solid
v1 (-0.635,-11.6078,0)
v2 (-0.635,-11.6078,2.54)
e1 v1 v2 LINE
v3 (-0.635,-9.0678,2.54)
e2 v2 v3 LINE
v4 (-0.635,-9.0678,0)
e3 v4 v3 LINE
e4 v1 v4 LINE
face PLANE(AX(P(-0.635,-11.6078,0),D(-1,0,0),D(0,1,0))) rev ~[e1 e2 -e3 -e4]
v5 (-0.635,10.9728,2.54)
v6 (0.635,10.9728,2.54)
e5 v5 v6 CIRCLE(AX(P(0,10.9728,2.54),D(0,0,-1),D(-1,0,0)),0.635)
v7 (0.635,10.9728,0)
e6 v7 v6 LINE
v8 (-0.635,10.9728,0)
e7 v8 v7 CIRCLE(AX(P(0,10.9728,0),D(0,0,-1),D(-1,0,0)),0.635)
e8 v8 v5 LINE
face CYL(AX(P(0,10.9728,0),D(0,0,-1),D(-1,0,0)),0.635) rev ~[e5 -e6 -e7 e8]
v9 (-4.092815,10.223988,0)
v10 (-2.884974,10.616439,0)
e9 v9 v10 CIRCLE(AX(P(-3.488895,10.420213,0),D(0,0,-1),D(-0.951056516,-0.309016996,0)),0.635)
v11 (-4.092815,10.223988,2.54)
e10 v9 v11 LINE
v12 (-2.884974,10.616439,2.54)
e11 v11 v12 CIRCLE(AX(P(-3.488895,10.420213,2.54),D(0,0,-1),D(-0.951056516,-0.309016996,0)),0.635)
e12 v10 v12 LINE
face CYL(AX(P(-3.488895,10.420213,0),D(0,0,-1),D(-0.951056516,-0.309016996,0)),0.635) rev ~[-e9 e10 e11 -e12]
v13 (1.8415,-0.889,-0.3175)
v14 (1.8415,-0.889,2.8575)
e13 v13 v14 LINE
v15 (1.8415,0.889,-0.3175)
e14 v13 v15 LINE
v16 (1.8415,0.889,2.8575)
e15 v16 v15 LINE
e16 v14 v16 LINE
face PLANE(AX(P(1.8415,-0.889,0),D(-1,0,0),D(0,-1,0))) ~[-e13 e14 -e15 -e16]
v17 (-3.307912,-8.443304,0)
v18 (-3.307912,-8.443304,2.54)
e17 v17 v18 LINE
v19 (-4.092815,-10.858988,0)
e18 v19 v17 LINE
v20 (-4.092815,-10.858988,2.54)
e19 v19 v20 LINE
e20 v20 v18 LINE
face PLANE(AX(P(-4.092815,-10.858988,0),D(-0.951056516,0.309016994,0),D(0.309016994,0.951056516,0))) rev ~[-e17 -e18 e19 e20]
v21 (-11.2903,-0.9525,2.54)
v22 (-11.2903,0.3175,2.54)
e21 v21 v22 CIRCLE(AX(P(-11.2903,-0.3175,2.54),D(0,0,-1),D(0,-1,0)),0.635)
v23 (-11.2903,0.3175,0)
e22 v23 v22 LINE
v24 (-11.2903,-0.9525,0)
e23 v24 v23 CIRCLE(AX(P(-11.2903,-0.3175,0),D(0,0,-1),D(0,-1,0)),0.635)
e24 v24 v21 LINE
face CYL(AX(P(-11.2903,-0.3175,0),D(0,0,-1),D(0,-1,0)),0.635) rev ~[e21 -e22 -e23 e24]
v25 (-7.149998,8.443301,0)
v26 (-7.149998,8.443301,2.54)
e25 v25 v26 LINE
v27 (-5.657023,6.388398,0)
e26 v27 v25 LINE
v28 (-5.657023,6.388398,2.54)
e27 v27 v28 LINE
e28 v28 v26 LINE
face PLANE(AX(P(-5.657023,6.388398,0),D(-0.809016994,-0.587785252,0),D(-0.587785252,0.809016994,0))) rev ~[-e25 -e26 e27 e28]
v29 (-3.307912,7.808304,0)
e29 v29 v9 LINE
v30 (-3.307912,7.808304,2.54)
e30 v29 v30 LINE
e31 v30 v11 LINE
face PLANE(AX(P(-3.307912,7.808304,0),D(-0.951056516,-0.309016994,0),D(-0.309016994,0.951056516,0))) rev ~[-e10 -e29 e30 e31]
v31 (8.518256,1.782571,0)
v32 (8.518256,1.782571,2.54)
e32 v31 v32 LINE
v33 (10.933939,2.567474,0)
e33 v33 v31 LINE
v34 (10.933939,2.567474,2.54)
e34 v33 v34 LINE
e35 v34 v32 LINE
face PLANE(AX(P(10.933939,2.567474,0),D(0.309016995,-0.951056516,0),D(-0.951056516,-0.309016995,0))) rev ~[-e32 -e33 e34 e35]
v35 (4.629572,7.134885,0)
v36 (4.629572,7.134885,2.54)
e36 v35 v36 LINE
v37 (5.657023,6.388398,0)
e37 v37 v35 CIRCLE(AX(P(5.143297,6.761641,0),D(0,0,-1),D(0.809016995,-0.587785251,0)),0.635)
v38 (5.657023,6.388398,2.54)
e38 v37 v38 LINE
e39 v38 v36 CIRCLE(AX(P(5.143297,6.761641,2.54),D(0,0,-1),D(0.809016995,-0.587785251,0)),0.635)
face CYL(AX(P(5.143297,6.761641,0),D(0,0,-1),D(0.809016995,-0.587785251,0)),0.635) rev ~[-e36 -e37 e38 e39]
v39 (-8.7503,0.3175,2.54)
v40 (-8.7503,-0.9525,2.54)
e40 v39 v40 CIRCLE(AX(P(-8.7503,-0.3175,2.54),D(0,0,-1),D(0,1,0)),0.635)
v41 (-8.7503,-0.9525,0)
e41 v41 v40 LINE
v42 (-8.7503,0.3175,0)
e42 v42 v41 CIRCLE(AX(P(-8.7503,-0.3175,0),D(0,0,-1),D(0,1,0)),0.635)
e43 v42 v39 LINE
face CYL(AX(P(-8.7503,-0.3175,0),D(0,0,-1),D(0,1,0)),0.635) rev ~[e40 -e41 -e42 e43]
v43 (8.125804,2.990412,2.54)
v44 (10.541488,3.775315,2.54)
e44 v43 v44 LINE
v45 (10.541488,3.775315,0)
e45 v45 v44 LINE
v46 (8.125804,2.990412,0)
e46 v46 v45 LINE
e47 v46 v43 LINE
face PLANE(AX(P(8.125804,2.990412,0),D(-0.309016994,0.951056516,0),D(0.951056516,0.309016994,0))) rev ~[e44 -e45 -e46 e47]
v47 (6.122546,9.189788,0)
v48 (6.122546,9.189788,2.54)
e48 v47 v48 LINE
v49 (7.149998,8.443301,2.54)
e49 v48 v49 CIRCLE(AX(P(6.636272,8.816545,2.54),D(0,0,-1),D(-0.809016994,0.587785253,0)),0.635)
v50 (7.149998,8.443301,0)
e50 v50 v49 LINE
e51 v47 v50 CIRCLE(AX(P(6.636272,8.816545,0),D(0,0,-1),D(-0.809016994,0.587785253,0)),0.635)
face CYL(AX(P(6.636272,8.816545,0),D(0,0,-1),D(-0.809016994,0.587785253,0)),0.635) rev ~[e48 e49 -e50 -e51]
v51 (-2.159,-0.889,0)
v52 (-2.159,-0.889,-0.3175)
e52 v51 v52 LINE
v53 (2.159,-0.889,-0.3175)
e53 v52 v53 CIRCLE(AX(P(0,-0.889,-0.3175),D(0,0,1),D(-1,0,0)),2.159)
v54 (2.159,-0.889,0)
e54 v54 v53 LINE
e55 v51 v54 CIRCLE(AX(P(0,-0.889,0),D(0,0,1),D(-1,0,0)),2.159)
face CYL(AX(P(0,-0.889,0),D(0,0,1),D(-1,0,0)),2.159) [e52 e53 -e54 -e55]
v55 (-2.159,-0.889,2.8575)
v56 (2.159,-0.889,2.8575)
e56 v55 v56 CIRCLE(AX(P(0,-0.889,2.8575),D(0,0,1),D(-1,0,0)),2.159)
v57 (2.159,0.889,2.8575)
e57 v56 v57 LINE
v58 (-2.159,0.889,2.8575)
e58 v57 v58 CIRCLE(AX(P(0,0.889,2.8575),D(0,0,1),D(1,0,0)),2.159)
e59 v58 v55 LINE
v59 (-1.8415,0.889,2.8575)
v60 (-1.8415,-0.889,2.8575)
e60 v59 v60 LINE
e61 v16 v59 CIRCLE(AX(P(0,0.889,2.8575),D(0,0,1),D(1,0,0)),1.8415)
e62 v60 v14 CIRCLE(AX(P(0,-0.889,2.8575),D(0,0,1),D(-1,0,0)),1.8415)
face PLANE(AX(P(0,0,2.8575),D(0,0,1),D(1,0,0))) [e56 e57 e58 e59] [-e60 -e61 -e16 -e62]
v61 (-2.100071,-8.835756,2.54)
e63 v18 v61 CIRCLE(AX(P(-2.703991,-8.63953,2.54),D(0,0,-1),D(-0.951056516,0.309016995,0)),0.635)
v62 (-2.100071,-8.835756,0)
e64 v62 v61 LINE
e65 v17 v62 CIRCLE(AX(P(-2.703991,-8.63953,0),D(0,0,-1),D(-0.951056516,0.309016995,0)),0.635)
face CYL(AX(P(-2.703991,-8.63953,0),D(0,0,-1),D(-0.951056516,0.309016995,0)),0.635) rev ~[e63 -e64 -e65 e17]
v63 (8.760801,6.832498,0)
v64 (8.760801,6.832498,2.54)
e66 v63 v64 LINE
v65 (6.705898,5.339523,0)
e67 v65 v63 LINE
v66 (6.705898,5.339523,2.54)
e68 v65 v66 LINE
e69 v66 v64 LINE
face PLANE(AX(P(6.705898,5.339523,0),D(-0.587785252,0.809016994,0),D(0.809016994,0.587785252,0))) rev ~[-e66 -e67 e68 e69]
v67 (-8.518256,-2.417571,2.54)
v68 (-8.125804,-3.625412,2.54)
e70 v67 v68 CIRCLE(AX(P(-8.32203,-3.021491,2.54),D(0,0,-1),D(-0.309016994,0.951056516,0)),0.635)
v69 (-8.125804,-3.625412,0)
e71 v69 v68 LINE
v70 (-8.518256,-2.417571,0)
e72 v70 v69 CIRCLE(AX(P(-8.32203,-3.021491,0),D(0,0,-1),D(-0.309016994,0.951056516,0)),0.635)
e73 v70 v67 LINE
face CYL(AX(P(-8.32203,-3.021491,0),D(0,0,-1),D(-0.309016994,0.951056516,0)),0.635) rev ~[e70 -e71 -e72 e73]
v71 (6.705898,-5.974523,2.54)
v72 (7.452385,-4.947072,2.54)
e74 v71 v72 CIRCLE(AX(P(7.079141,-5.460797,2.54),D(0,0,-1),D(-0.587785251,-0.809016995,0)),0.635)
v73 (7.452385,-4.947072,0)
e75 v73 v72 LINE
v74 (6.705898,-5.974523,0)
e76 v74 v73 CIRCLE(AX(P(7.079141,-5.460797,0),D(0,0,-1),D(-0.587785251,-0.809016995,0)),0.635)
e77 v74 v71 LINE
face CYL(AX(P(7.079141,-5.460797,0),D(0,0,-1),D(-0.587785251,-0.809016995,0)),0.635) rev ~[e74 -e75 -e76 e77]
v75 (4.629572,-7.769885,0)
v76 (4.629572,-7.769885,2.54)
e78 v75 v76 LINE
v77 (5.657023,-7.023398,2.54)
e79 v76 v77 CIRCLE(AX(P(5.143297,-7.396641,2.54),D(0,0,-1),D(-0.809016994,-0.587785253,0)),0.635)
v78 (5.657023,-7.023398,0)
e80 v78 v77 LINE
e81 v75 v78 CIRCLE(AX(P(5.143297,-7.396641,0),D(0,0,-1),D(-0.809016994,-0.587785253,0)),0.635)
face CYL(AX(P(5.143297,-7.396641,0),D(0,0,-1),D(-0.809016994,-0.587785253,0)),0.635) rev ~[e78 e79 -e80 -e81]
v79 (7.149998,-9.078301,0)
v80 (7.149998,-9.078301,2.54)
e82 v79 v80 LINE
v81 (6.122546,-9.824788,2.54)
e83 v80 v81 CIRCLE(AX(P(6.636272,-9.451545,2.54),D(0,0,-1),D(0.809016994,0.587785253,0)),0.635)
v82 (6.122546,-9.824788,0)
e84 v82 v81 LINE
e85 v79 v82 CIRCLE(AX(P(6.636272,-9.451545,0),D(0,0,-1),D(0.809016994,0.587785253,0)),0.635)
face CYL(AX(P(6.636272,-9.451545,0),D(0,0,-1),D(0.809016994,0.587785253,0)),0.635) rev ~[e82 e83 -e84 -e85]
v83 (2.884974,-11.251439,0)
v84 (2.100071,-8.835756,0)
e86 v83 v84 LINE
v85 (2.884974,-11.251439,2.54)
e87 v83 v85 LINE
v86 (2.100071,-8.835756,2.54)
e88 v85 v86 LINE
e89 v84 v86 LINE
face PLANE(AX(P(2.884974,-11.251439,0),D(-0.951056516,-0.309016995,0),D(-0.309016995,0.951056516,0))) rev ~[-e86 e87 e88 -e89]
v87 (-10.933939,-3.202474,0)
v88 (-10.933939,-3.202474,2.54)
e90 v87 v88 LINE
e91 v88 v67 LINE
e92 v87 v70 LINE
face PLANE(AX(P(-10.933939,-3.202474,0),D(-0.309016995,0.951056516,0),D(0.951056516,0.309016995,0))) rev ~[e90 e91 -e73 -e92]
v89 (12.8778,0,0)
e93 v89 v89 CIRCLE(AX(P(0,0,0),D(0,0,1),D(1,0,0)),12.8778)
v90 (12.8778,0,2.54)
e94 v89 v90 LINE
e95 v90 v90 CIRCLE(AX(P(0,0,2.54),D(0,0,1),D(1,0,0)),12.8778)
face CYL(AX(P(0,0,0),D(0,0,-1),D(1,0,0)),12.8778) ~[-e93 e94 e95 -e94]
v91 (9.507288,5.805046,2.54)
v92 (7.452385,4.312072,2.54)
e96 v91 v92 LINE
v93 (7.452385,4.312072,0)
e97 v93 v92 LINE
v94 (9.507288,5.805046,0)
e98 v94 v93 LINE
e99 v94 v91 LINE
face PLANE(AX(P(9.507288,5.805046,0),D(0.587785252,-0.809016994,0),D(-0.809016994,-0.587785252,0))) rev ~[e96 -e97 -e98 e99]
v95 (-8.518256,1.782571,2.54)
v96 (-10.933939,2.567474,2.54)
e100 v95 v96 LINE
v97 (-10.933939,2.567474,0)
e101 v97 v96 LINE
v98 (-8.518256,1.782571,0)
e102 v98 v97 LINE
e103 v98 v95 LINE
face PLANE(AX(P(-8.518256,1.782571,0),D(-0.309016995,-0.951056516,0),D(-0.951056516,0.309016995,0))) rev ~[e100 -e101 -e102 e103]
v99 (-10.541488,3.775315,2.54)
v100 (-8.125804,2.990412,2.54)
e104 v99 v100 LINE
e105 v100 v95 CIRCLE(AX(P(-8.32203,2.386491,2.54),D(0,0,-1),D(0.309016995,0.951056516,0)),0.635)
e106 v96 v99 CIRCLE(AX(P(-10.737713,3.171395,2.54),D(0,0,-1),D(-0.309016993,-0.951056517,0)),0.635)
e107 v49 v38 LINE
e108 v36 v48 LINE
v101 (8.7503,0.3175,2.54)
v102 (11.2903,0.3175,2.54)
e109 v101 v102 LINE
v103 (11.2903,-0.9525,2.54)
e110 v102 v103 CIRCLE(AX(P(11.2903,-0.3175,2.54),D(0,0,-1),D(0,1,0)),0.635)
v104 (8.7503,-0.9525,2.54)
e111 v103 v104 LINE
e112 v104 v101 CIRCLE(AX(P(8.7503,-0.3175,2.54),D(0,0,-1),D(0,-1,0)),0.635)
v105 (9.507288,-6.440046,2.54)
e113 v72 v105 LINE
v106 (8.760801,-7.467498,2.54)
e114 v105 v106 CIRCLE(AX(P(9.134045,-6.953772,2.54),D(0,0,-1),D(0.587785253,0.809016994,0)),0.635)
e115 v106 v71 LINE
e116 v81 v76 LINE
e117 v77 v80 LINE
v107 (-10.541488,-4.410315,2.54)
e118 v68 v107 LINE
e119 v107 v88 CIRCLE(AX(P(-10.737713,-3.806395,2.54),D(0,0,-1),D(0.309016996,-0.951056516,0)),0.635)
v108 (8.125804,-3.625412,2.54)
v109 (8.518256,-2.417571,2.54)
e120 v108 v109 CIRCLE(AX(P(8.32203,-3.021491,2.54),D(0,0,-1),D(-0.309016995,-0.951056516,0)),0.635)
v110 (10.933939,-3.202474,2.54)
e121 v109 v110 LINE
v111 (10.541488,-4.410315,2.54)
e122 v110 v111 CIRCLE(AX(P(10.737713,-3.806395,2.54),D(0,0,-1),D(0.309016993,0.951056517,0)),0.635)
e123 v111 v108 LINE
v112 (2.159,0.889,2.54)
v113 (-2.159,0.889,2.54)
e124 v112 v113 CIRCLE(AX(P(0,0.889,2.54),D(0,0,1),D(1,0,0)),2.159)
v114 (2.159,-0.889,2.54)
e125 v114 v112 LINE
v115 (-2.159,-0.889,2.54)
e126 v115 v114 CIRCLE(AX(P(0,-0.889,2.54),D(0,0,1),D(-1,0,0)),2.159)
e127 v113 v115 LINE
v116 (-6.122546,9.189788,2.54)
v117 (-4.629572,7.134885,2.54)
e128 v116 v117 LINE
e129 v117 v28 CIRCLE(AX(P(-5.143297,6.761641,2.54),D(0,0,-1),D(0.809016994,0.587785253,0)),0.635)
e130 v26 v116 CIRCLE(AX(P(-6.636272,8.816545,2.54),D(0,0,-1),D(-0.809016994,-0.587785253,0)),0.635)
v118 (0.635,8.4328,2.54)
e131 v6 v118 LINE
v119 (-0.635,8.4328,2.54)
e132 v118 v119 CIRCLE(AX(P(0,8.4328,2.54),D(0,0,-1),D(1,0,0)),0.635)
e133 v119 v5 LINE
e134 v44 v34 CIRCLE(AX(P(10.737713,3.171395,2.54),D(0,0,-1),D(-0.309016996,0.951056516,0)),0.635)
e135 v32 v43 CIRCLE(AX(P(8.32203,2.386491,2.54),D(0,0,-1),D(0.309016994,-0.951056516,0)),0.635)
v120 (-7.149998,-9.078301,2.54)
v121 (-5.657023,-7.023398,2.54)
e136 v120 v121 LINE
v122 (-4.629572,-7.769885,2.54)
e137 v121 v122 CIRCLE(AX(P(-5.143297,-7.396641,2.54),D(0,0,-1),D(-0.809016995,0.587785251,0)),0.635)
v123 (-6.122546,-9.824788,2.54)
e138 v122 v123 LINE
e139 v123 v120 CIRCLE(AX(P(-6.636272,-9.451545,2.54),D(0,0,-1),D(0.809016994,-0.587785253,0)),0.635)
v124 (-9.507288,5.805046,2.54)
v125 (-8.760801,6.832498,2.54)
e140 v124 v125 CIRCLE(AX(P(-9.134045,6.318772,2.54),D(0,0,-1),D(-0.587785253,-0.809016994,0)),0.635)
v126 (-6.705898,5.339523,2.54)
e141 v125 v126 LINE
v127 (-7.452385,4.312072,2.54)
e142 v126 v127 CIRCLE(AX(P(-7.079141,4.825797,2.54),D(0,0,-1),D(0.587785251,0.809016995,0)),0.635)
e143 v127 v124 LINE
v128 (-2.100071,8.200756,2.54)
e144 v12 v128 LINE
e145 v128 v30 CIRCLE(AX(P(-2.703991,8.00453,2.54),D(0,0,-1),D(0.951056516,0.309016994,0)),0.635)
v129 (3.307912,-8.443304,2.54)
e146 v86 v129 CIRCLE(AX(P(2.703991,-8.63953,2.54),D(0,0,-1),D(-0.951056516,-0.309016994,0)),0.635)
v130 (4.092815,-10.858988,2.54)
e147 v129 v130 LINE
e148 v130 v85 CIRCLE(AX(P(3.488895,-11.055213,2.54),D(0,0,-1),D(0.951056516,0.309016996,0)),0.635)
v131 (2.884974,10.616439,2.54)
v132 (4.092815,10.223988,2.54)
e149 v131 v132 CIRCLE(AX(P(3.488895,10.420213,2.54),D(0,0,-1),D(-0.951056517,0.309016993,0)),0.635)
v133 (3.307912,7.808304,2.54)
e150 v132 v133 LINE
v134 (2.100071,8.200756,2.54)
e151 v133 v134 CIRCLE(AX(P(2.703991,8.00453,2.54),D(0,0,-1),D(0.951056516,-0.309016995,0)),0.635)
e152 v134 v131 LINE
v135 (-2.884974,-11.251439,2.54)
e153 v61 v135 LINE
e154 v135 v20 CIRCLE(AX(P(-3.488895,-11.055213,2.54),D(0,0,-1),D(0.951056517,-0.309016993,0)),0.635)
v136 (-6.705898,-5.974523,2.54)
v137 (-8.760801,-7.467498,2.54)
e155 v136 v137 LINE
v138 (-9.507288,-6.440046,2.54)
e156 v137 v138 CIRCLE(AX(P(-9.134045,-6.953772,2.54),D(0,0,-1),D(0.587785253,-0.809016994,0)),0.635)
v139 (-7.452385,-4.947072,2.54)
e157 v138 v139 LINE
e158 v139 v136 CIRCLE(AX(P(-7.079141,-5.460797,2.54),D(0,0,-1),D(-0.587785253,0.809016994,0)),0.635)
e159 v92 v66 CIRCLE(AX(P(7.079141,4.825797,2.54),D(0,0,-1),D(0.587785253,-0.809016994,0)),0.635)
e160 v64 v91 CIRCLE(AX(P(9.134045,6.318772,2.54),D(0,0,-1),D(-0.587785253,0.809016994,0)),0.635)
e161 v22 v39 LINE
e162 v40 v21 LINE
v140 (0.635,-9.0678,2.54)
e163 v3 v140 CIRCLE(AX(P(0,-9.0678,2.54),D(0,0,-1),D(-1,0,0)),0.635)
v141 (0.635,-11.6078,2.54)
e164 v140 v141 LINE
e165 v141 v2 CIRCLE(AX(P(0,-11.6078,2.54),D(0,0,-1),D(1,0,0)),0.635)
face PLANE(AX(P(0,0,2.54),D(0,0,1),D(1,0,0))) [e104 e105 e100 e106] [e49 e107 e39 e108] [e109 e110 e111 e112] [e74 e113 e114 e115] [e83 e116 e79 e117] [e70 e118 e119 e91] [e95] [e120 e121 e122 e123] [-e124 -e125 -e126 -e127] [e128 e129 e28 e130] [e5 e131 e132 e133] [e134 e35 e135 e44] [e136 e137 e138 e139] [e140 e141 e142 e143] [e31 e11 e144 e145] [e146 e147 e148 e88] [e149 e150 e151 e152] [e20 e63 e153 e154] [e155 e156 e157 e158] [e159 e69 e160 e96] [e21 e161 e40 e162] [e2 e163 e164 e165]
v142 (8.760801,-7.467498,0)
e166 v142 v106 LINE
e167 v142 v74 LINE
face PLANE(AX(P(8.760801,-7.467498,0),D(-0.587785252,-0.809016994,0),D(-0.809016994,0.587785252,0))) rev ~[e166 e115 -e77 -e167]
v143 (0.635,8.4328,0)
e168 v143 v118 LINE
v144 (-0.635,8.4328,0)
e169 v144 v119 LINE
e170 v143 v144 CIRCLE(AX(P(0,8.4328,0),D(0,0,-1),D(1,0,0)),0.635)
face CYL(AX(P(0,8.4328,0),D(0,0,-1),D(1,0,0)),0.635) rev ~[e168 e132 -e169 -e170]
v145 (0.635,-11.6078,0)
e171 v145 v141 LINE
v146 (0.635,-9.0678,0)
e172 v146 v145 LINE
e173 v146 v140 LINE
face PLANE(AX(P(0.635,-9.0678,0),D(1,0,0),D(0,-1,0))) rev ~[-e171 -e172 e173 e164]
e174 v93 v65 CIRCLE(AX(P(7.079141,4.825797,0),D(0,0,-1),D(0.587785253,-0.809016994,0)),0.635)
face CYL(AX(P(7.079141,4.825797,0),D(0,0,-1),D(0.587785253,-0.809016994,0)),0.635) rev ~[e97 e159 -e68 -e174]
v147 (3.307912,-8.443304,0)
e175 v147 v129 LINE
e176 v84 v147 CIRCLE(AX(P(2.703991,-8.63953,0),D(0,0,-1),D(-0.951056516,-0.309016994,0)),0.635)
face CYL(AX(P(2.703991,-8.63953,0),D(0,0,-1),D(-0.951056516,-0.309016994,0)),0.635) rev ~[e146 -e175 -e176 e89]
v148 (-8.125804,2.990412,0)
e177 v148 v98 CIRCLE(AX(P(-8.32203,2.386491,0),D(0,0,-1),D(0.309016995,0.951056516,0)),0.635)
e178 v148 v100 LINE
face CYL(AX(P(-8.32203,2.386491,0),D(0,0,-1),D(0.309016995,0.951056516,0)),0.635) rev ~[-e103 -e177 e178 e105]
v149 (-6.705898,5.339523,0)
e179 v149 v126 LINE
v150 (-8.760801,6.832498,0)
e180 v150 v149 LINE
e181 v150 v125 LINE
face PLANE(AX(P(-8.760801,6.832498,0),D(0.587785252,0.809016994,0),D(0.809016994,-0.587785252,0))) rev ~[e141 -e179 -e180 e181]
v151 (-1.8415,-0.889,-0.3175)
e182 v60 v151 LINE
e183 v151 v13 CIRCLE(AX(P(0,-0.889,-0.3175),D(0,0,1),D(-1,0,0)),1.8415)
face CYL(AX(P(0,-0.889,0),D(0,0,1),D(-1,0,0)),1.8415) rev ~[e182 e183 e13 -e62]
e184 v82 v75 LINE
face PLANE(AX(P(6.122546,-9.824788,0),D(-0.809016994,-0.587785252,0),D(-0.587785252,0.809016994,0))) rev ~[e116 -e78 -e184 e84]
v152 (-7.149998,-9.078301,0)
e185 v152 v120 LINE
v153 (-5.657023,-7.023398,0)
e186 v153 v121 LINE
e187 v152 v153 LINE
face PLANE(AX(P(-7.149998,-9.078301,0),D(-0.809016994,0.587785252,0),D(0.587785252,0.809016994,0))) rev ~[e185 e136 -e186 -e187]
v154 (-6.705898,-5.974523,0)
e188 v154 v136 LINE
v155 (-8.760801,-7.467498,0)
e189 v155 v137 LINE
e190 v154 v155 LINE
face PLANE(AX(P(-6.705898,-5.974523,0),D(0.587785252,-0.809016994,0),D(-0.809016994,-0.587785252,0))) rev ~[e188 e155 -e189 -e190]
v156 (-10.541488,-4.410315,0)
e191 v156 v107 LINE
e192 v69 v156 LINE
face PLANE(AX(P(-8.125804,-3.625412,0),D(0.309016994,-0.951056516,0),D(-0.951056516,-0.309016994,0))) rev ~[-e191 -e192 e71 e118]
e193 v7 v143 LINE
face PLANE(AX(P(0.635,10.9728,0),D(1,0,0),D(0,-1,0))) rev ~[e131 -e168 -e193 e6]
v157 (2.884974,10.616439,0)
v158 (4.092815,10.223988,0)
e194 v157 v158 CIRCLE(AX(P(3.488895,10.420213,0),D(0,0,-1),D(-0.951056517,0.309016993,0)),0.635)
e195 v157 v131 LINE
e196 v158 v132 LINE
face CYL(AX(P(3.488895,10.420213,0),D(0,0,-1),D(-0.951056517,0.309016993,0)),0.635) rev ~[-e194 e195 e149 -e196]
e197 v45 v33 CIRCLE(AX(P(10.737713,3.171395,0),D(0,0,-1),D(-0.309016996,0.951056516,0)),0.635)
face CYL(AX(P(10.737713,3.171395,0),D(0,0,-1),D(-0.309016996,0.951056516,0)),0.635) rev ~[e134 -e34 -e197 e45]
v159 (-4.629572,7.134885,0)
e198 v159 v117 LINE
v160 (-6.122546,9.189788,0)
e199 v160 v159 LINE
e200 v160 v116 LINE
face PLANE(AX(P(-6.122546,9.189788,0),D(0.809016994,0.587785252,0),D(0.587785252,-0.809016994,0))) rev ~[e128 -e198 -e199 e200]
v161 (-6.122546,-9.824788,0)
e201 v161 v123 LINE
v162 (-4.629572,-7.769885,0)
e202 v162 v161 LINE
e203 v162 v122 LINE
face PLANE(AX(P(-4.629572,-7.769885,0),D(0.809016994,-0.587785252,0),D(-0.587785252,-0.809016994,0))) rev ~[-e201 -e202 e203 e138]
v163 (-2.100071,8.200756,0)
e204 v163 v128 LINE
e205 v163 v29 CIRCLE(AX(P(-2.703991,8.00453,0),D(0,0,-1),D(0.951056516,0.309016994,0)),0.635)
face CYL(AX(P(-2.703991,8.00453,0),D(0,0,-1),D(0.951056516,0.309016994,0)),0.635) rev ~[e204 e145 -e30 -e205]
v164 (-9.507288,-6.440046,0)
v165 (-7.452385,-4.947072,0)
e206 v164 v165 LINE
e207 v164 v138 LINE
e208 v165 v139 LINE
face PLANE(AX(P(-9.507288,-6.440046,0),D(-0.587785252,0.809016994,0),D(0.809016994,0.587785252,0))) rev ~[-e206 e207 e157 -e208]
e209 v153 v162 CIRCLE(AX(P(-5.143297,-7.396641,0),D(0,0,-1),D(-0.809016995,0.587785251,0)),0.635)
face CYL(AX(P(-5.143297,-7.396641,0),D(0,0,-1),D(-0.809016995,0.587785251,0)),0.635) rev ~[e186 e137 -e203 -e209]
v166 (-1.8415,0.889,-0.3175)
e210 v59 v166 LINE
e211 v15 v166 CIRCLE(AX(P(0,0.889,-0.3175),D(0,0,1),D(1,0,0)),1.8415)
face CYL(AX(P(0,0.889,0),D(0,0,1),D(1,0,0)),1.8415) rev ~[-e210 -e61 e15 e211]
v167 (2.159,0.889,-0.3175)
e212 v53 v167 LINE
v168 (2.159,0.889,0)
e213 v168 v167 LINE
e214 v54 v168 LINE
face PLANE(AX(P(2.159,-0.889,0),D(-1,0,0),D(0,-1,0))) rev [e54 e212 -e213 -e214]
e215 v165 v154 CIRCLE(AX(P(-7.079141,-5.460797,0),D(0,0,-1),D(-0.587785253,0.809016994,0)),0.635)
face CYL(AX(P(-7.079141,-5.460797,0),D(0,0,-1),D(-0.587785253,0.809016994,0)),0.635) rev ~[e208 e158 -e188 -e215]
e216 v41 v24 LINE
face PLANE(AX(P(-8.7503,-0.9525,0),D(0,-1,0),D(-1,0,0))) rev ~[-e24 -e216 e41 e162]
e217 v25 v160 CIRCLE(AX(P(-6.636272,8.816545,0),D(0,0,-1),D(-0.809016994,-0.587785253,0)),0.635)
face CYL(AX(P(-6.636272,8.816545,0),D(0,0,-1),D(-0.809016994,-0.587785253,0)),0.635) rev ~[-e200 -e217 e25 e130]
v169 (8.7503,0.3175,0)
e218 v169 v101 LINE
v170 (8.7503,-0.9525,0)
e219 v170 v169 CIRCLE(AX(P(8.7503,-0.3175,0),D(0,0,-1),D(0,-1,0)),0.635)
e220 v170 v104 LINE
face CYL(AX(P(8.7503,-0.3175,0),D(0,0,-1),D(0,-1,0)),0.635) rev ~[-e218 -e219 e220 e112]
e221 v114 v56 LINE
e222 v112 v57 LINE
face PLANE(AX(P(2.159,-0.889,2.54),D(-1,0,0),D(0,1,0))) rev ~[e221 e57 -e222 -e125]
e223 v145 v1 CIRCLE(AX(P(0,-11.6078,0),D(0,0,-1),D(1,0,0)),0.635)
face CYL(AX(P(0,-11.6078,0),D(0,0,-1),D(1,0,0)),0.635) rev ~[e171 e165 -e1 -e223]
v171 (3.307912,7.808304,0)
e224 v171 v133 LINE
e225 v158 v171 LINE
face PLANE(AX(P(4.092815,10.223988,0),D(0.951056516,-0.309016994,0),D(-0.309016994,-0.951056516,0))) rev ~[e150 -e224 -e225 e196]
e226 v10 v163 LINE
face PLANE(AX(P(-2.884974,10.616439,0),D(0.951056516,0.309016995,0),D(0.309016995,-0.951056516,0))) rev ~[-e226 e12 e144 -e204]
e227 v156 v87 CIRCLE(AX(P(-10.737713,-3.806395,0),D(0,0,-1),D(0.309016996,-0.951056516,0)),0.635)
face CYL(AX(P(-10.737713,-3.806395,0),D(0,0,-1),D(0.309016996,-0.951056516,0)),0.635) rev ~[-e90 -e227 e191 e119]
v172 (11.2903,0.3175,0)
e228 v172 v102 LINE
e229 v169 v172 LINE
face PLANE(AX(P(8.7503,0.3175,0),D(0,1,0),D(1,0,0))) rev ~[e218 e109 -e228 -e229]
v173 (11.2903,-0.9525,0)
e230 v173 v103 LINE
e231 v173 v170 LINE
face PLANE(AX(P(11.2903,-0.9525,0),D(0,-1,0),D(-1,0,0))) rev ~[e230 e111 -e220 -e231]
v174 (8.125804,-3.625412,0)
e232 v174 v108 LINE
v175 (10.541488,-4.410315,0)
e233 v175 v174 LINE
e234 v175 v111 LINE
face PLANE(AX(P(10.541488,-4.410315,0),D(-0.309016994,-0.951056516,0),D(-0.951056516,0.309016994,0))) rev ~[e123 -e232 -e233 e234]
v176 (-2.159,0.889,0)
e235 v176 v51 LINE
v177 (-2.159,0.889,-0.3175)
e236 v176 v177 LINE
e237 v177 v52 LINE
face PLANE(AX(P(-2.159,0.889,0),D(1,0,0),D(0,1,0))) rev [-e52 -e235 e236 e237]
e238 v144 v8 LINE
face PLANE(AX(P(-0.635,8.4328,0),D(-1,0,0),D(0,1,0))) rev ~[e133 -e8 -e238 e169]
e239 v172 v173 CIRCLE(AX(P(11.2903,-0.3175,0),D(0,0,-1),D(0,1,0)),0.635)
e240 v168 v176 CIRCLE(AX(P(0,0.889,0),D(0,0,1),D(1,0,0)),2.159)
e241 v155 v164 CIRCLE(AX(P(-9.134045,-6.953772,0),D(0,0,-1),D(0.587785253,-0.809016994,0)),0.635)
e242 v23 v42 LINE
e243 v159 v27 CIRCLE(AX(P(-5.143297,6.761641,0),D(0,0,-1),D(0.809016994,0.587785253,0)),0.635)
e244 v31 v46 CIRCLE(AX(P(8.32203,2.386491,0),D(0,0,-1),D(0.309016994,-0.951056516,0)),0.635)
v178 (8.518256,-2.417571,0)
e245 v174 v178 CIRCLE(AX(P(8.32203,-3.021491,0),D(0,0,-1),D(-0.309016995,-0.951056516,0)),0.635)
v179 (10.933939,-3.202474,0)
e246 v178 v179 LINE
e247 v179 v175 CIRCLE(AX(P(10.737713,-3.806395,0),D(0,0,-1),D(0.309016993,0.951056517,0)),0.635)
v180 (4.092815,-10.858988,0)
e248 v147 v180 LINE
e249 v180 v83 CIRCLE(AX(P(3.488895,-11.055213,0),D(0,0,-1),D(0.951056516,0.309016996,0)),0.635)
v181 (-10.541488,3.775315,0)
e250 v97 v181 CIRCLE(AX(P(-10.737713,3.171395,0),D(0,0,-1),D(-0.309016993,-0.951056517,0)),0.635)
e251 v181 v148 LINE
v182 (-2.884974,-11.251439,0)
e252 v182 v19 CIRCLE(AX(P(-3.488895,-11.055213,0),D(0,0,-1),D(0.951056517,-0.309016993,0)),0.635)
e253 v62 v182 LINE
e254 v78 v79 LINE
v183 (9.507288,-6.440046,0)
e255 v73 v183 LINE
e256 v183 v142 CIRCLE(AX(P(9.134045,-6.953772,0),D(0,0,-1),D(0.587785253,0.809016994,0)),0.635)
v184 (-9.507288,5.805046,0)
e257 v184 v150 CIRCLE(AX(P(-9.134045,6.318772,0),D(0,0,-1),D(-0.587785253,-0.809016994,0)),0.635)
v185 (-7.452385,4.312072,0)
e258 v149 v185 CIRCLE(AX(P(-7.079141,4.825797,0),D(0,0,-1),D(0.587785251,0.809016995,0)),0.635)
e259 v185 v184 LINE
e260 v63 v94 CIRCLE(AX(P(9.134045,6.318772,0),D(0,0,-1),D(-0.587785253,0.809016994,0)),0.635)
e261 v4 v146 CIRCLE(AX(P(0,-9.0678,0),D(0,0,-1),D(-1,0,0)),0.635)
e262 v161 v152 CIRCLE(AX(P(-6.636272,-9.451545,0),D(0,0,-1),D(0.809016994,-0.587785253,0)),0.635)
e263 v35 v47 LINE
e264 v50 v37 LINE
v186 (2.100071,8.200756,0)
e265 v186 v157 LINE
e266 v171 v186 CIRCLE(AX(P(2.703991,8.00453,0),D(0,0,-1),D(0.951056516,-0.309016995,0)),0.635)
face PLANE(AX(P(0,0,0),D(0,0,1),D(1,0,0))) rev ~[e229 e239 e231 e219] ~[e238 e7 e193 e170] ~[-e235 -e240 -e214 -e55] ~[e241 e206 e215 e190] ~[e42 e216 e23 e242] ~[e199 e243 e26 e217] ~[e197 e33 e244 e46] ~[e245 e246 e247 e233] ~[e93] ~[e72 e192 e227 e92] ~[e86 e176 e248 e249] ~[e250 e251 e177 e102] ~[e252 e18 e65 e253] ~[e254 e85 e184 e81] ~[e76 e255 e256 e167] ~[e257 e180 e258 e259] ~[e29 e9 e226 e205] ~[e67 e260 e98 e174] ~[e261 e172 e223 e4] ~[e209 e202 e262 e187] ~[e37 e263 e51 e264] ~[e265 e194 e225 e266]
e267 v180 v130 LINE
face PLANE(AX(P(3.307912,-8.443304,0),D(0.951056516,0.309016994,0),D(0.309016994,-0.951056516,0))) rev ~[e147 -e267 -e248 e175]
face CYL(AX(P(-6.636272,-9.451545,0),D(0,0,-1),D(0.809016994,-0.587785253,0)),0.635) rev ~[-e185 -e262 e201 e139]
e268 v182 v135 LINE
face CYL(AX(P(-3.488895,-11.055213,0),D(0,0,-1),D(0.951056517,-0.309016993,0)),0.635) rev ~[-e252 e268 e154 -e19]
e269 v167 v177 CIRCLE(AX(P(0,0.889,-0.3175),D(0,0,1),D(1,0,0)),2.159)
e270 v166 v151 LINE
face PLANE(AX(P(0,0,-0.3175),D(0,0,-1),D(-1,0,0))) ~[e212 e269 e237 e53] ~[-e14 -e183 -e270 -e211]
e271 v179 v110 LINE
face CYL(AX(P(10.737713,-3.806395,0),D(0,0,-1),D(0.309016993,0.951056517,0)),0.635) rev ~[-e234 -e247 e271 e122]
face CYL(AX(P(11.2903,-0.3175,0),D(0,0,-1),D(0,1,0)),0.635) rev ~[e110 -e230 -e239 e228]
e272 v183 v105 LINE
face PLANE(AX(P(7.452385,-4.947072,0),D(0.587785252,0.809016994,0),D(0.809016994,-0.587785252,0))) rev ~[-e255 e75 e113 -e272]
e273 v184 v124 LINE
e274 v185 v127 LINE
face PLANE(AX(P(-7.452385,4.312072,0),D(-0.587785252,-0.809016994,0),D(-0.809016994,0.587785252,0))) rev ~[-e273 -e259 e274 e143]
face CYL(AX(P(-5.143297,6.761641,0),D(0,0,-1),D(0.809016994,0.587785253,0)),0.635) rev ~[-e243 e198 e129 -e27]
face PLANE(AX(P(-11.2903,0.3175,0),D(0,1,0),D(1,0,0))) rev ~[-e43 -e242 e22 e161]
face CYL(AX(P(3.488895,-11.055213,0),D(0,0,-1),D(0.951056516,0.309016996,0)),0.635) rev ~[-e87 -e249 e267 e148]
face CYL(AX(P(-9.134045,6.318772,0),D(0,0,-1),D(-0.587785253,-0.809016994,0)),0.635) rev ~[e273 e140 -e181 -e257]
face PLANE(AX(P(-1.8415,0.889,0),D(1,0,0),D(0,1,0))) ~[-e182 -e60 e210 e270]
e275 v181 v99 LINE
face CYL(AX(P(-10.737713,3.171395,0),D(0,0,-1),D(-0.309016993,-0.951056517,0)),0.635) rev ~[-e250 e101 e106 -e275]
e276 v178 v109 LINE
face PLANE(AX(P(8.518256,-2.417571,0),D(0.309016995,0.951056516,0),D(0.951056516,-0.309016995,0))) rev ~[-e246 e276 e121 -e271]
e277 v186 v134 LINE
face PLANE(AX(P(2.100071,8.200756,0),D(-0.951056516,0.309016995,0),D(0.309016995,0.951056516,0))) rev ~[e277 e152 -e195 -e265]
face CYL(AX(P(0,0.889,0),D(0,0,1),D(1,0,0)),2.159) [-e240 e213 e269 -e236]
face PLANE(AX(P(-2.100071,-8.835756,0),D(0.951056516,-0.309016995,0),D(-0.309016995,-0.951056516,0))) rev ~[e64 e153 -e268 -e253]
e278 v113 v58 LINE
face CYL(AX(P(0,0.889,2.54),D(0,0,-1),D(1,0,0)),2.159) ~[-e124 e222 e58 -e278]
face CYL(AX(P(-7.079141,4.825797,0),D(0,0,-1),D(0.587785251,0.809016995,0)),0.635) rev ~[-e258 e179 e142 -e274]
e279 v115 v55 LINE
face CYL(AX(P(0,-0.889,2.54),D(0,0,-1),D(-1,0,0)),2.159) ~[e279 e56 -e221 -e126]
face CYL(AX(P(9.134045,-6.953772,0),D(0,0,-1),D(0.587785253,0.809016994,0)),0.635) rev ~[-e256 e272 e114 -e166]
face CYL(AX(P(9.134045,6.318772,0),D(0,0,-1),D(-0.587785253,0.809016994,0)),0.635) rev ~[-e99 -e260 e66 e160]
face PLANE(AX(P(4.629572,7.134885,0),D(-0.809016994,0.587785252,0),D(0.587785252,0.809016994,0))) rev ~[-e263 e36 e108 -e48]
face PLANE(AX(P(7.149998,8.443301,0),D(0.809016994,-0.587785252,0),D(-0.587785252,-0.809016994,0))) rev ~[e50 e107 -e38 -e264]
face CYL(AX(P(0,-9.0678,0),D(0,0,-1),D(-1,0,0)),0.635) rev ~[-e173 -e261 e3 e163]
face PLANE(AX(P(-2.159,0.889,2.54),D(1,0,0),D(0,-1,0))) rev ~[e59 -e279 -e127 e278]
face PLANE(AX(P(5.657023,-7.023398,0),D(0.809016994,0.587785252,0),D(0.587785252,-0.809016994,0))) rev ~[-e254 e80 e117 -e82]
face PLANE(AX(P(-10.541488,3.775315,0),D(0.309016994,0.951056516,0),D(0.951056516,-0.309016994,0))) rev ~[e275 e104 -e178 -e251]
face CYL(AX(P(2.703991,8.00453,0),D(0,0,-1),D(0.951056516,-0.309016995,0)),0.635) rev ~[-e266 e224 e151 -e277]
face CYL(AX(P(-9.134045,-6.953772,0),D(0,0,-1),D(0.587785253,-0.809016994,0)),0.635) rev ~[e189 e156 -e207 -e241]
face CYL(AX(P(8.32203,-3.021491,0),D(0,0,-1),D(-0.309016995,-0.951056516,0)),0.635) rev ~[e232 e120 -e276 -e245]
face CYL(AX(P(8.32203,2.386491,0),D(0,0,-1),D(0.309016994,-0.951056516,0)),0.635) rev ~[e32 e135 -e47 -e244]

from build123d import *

# Parameters (mm, degrees)
SKETCH1_R           = 12.8778
BOSS_EXTRUDE1_DEPTH = 2.54
BOSS_EXTRUDE2_DEPTH = 0.3175


with BuildPart() as part:
    # Sketch1 → Boss-Extrude1 (new body)
    with BuildSketch(Plane.XY):
        Circle(SKETCH1_R)
        with BuildLine():
            Line((1.8415, 0.889), (1.8415, -0.889))
            ThreePointArc((1.8415, -0.889), (0, -2.7305), (-1.8415, -0.889))
            Line((-1.8415, -0.889), (-1.8415, 0.889))
            ThreePointArc((-1.8415, 0.889), (0, 2.7305), (1.8415, 0.889))
        make_face(mode=Mode.SUBTRACT)
        with BuildLine():
            Line((0.635, 10.9728), (0.635, 8.4328))
            ThreePointArc((0.635, 8.4328), (0, 7.7978), (-0.635, 8.4328))
            Line((-0.635, 8.4328), (-0.635, 10.9728))
            ThreePointArc((-0.635, 10.9728), (0, 11.6078), (0.635, 10.9728))
        make_face(mode=Mode.SUBTRACT)
        with BuildLine():
            Line((4.092815459, 10.223987594), (3.307912294, 7.808304043))
            ThreePointArc((3.307912294, 7.808304043), (2.507765614, 7.400608947), (2.100070518, 8.200755626))
            Line((2.100070518, 8.200755626), (2.884973684, 10.616439177))
            ThreePointArc((2.884973684, 10.616439177), (3.685120363, 11.024134274), (4.092815459, 10.223987594))
        make_face(mode=Mode.SUBTRACT)
        with BuildLine():
            Line((7.149997625, 8.443300936), (5.657023085, 6.388397771))
            ThreePointArc((5.657023085, 6.388397771), (4.770053658, 6.247915614), (4.629571502, 7.134885041))
            Line((4.629571502, 7.134885041), (6.122546043, 9.189788207))
            ThreePointArc((6.122546043, 9.189788207), (7.009515469, 9.330270363), (7.149997625, 8.443300936))
        make_face(mode=Mode.SUBTRACT)
        with BuildLine():
            Line((9.507288207, 5.805046043), (7.452385041, 4.312071502))
            ThreePointArc((7.452385041, 4.312071502), (6.565415614, 4.452553658), (6.705897771, 5.339523085))
            Line((6.705897771, 5.339523085), (8.760800936, 6.832497625))
            ThreePointArc((8.760800936, 6.832497625), (9.647770363, 6.692015469), (9.507288207, 5.805046043))
        make_face(mode=Mode.SUBTRACT)
        with BuildLine():
            Line((10.933939177, 2.567473684), (8.518255626, 1.782570518))
            ThreePointArc((8.518255626, 1.782570518), (7.718108947, 2.190265614), (8.125804043, 2.990412294))
            Line((8.125804043, 2.990412294), (10.541487594, 3.775315459))
            ThreePointArc((10.541487594, 3.775315459), (11.341634274, 3.367620363), (10.933939177, 2.567473684))
        make_face(mode=Mode.SUBTRACT)
        with BuildLine():
            Line((11.2903, -0.9525), (8.7503, -0.9525))
            ThreePointArc((8.7503, -0.9525), (8.1153, -0.3175), (8.7503, 0.3175))
            Line((8.7503, 0.3175), (11.2903, 0.3175))
            ThreePointArc((11.2903, 0.3175), (11.9253, -0.3175), (11.2903, -0.9525))
        make_face(mode=Mode.SUBTRACT)
        with BuildLine():
            Line((10.541487594, -4.410315459), (8.125804043, -3.625412294))
            ThreePointArc((8.125804043, -3.625412294), (7.718108947, -2.825265614), (8.518255626, -2.417570518))
            Line((8.518255626, -2.417570518), (10.933939177, -3.202473684))
            ThreePointArc((10.933939177, -3.202473684), (11.341634274, -4.002620363), (10.541487594, -4.410315459))
        make_face(mode=Mode.SUBTRACT)
        with BuildLine():
            Line((8.760800936, -7.467497625), (6.705897771, -5.974523085))
            ThreePointArc((6.705897771, -5.974523085), (6.565415614, -5.087553658), (7.452385041, -4.947071502))
            Line((7.452385041, -4.947071502), (9.507288207, -6.440046043))
            ThreePointArc((9.507288207, -6.440046043), (9.647770363, -7.327015469), (8.760800936, -7.467497625))
        make_face(mode=Mode.SUBTRACT)
        with BuildLine():
            Line((6.122546043, -9.824788207), (4.629571502, -7.769885041))
            ThreePointArc((4.629571502, -7.769885041), (4.770053658, -6.882915614), (5.657023085, -7.023397771))
            Line((5.657023085, -7.023397771), (7.149997625, -9.078300936))
            ThreePointArc((7.149997625, -9.078300936), (7.009515469, -9.965270363), (6.122546043, -9.824788207))
        make_face(mode=Mode.SUBTRACT)
        with BuildLine():
            Line((2.884973684, -11.251439177), (2.100070518, -8.835755626))
            ThreePointArc((2.100070518, -8.835755626), (2.507765614, -8.035608947), (3.307912294, -8.443304043))
            Line((3.307912294, -8.443304043), (4.092815459, -10.858987594))
            ThreePointArc((4.092815459, -10.858987594), (3.685120363, -11.659134274), (2.884973684, -11.251439177))
        make_face(mode=Mode.SUBTRACT)
        with BuildLine():
            Line((-0.635, -11.6078), (-0.635, -9.0678))
            ThreePointArc((-0.635, -9.0678), (0, -8.4328), (0.635, -9.0678))
            Line((0.635, -9.0678), (0.635, -11.6078))
            ThreePointArc((0.635, -11.6078), (0, -12.2428), (-0.635, -11.6078))
        make_face(mode=Mode.SUBTRACT)
        with BuildLine():
            Line((-4.092815459, -10.858987594), (-3.307912294, -8.443304043))
            ThreePointArc((-3.307912294, -8.443304043), (-2.507765614, -8.035608947), (-2.100070518, -8.835755626))
            Line((-2.100070518, -8.835755626), (-2.884973684, -11.251439177))
            ThreePointArc((-2.884973684, -11.251439177), (-3.685120363, -11.659134274), (-4.092815459, -10.858987594))
        make_face(mode=Mode.SUBTRACT)
        with BuildLine():
            Line((-7.149997625, -9.078300936), (-5.657023085, -7.023397771))
            ThreePointArc((-5.657023085, -7.023397771), (-4.770053658, -6.882915614), (-4.629571502, -7.769885041))
            Line((-4.629571502, -7.769885041), (-6.122546043, -9.824788207))
            ThreePointArc((-6.122546043, -9.824788207), (-7.009515469, -9.965270363), (-7.149997625, -9.078300936))
        make_face(mode=Mode.SUBTRACT)
        with BuildLine():
            Line((-9.507288207, -6.440046043), (-7.452385041, -4.947071502))
            ThreePointArc((-7.452385041, -4.947071502), (-6.565415614, -5.087553658), (-6.705897771, -5.974523085))
            Line((-6.705897771, -5.974523085), (-8.760800936, -7.467497625))
            ThreePointArc((-8.760800936, -7.467497625), (-9.647770363, -7.327015469), (-9.507288207, -6.440046043))
        make_face(mode=Mode.SUBTRACT)
        with BuildLine():
            Line((-10.933939177, -3.202473684), (-8.518255626, -2.417570518))
            ThreePointArc((-8.518255626, -2.417570518), (-7.718108947, -2.825265614), (-8.125804043, -3.625412294))
            Line((-8.125804043, -3.625412294), (-10.541487594, -4.410315459))
            ThreePointArc((-10.541487594, -4.410315459), (-11.341634274, -4.002620363), (-10.933939177, -3.202473684))
        make_face(mode=Mode.SUBTRACT)
        with BuildLine():
            Line((-11.2903, 0.3175), (-8.7503, 0.3175))
            ThreePointArc((-8.7503, 0.3175), (-8.1153, -0.3175), (-8.7503, -0.9525))
            Line((-8.7503, -0.9525), (-11.2903, -0.9525))
            ThreePointArc((-11.2903, -0.9525), (-11.9253, -0.3175), (-11.2903, 0.3175))
        make_face(mode=Mode.SUBTRACT)
        with BuildLine():
            Line((-10.541487594, 3.775315459), (-8.125804043, 2.990412294))
            ThreePointArc((-8.125804043, 2.990412294), (-7.718108947, 2.190265614), (-8.518255626, 1.782570518))
            Line((-8.518255626, 1.782570518), (-10.933939177, 2.567473684))
            ThreePointArc((-10.933939177, 2.567473684), (-11.341634274, 3.367620363), (-10.541487594, 3.775315459))
        make_face(mode=Mode.SUBTRACT)
        with BuildLine():
            Line((-8.760800936, 6.832497625), (-6.705897771, 5.339523085))
            ThreePointArc((-6.705897771, 5.339523085), (-6.565415614, 4.452553658), (-7.452385041, 4.312071502))
            Line((-7.452385041, 4.312071502), (-9.507288207, 5.805046043))
            ThreePointArc((-9.507288207, 5.805046043), (-9.647770363, 6.692015469), (-8.760800936, 6.832497625))
        make_face(mode=Mode.SUBTRACT)
        with BuildLine():
            Line((-6.122546043, 9.189788207), (-4.629571502, 7.134885041))
            ThreePointArc((-4.629571502, 7.134885041), (-4.770053658, 6.247915614), (-5.657023085, 6.388397771))
            Line((-5.657023085, 6.388397771), (-7.149997625, 8.443300936))
            ThreePointArc((-7.149997625, 8.443300936), (-7.009515469, 9.330270363), (-6.122546043, 9.189788207))
        make_face(mode=Mode.SUBTRACT)
        with BuildLine():
            Line((-2.884973684, 10.616439177), (-2.100070518, 8.200755626))
            ThreePointArc((-2.100070518, 8.200755626), (-2.507765614, 7.400608947), (-3.307912294, 7.808304043))
            Line((-3.307912294, 7.808304043), (-4.092815459, 10.223987594))
            ThreePointArc((-4.092815459, 10.223987594), (-3.685120363, 11.024134274), (-2.884973684, 10.616439177))
        make_face(mode=Mode.SUBTRACT)
    extrude(amount=BOSS_EXTRUDE1_DEPTH)

    # Sketch2 → Boss-Extrude2 (add)
    with BuildSketch(Plane.XY.offset(2.54)):
        with BuildLine():
            Line((-2.159, 0.889), (-2.159, -0.889))
            ThreePointArc((-2.159, -0.889), (0, -3.048), (2.159, -0.889))
            Line((2.159, -0.889), (2.159, 0.889))
            ThreePointArc((2.159, 0.889), (0, 3.048), (-2.159, 0.889))
        make_face()
        with BuildLine():
            Line((1.8415, -0.889), (1.8415, 0.889))
            ThreePointArc((1.8415, 0.889), (0, 2.7305), (-1.8415, 0.889))
            Line((-1.8415, 0.889), (-1.8415, -0.889))
            ThreePointArc((-1.8415, -0.889), (0, -2.7305), (1.8415, -0.889))
        make_face(mode=Mode.SUBTRACT)
    boss_extrude2 = extrude(amount=BOSS_EXTRUDE2_DEPTH)

    # Mirror1: Boss-Extrude2 across plane
    add(boss_extrude2.mirror(Plane.XY.offset(1.27)))


solid = part.part
